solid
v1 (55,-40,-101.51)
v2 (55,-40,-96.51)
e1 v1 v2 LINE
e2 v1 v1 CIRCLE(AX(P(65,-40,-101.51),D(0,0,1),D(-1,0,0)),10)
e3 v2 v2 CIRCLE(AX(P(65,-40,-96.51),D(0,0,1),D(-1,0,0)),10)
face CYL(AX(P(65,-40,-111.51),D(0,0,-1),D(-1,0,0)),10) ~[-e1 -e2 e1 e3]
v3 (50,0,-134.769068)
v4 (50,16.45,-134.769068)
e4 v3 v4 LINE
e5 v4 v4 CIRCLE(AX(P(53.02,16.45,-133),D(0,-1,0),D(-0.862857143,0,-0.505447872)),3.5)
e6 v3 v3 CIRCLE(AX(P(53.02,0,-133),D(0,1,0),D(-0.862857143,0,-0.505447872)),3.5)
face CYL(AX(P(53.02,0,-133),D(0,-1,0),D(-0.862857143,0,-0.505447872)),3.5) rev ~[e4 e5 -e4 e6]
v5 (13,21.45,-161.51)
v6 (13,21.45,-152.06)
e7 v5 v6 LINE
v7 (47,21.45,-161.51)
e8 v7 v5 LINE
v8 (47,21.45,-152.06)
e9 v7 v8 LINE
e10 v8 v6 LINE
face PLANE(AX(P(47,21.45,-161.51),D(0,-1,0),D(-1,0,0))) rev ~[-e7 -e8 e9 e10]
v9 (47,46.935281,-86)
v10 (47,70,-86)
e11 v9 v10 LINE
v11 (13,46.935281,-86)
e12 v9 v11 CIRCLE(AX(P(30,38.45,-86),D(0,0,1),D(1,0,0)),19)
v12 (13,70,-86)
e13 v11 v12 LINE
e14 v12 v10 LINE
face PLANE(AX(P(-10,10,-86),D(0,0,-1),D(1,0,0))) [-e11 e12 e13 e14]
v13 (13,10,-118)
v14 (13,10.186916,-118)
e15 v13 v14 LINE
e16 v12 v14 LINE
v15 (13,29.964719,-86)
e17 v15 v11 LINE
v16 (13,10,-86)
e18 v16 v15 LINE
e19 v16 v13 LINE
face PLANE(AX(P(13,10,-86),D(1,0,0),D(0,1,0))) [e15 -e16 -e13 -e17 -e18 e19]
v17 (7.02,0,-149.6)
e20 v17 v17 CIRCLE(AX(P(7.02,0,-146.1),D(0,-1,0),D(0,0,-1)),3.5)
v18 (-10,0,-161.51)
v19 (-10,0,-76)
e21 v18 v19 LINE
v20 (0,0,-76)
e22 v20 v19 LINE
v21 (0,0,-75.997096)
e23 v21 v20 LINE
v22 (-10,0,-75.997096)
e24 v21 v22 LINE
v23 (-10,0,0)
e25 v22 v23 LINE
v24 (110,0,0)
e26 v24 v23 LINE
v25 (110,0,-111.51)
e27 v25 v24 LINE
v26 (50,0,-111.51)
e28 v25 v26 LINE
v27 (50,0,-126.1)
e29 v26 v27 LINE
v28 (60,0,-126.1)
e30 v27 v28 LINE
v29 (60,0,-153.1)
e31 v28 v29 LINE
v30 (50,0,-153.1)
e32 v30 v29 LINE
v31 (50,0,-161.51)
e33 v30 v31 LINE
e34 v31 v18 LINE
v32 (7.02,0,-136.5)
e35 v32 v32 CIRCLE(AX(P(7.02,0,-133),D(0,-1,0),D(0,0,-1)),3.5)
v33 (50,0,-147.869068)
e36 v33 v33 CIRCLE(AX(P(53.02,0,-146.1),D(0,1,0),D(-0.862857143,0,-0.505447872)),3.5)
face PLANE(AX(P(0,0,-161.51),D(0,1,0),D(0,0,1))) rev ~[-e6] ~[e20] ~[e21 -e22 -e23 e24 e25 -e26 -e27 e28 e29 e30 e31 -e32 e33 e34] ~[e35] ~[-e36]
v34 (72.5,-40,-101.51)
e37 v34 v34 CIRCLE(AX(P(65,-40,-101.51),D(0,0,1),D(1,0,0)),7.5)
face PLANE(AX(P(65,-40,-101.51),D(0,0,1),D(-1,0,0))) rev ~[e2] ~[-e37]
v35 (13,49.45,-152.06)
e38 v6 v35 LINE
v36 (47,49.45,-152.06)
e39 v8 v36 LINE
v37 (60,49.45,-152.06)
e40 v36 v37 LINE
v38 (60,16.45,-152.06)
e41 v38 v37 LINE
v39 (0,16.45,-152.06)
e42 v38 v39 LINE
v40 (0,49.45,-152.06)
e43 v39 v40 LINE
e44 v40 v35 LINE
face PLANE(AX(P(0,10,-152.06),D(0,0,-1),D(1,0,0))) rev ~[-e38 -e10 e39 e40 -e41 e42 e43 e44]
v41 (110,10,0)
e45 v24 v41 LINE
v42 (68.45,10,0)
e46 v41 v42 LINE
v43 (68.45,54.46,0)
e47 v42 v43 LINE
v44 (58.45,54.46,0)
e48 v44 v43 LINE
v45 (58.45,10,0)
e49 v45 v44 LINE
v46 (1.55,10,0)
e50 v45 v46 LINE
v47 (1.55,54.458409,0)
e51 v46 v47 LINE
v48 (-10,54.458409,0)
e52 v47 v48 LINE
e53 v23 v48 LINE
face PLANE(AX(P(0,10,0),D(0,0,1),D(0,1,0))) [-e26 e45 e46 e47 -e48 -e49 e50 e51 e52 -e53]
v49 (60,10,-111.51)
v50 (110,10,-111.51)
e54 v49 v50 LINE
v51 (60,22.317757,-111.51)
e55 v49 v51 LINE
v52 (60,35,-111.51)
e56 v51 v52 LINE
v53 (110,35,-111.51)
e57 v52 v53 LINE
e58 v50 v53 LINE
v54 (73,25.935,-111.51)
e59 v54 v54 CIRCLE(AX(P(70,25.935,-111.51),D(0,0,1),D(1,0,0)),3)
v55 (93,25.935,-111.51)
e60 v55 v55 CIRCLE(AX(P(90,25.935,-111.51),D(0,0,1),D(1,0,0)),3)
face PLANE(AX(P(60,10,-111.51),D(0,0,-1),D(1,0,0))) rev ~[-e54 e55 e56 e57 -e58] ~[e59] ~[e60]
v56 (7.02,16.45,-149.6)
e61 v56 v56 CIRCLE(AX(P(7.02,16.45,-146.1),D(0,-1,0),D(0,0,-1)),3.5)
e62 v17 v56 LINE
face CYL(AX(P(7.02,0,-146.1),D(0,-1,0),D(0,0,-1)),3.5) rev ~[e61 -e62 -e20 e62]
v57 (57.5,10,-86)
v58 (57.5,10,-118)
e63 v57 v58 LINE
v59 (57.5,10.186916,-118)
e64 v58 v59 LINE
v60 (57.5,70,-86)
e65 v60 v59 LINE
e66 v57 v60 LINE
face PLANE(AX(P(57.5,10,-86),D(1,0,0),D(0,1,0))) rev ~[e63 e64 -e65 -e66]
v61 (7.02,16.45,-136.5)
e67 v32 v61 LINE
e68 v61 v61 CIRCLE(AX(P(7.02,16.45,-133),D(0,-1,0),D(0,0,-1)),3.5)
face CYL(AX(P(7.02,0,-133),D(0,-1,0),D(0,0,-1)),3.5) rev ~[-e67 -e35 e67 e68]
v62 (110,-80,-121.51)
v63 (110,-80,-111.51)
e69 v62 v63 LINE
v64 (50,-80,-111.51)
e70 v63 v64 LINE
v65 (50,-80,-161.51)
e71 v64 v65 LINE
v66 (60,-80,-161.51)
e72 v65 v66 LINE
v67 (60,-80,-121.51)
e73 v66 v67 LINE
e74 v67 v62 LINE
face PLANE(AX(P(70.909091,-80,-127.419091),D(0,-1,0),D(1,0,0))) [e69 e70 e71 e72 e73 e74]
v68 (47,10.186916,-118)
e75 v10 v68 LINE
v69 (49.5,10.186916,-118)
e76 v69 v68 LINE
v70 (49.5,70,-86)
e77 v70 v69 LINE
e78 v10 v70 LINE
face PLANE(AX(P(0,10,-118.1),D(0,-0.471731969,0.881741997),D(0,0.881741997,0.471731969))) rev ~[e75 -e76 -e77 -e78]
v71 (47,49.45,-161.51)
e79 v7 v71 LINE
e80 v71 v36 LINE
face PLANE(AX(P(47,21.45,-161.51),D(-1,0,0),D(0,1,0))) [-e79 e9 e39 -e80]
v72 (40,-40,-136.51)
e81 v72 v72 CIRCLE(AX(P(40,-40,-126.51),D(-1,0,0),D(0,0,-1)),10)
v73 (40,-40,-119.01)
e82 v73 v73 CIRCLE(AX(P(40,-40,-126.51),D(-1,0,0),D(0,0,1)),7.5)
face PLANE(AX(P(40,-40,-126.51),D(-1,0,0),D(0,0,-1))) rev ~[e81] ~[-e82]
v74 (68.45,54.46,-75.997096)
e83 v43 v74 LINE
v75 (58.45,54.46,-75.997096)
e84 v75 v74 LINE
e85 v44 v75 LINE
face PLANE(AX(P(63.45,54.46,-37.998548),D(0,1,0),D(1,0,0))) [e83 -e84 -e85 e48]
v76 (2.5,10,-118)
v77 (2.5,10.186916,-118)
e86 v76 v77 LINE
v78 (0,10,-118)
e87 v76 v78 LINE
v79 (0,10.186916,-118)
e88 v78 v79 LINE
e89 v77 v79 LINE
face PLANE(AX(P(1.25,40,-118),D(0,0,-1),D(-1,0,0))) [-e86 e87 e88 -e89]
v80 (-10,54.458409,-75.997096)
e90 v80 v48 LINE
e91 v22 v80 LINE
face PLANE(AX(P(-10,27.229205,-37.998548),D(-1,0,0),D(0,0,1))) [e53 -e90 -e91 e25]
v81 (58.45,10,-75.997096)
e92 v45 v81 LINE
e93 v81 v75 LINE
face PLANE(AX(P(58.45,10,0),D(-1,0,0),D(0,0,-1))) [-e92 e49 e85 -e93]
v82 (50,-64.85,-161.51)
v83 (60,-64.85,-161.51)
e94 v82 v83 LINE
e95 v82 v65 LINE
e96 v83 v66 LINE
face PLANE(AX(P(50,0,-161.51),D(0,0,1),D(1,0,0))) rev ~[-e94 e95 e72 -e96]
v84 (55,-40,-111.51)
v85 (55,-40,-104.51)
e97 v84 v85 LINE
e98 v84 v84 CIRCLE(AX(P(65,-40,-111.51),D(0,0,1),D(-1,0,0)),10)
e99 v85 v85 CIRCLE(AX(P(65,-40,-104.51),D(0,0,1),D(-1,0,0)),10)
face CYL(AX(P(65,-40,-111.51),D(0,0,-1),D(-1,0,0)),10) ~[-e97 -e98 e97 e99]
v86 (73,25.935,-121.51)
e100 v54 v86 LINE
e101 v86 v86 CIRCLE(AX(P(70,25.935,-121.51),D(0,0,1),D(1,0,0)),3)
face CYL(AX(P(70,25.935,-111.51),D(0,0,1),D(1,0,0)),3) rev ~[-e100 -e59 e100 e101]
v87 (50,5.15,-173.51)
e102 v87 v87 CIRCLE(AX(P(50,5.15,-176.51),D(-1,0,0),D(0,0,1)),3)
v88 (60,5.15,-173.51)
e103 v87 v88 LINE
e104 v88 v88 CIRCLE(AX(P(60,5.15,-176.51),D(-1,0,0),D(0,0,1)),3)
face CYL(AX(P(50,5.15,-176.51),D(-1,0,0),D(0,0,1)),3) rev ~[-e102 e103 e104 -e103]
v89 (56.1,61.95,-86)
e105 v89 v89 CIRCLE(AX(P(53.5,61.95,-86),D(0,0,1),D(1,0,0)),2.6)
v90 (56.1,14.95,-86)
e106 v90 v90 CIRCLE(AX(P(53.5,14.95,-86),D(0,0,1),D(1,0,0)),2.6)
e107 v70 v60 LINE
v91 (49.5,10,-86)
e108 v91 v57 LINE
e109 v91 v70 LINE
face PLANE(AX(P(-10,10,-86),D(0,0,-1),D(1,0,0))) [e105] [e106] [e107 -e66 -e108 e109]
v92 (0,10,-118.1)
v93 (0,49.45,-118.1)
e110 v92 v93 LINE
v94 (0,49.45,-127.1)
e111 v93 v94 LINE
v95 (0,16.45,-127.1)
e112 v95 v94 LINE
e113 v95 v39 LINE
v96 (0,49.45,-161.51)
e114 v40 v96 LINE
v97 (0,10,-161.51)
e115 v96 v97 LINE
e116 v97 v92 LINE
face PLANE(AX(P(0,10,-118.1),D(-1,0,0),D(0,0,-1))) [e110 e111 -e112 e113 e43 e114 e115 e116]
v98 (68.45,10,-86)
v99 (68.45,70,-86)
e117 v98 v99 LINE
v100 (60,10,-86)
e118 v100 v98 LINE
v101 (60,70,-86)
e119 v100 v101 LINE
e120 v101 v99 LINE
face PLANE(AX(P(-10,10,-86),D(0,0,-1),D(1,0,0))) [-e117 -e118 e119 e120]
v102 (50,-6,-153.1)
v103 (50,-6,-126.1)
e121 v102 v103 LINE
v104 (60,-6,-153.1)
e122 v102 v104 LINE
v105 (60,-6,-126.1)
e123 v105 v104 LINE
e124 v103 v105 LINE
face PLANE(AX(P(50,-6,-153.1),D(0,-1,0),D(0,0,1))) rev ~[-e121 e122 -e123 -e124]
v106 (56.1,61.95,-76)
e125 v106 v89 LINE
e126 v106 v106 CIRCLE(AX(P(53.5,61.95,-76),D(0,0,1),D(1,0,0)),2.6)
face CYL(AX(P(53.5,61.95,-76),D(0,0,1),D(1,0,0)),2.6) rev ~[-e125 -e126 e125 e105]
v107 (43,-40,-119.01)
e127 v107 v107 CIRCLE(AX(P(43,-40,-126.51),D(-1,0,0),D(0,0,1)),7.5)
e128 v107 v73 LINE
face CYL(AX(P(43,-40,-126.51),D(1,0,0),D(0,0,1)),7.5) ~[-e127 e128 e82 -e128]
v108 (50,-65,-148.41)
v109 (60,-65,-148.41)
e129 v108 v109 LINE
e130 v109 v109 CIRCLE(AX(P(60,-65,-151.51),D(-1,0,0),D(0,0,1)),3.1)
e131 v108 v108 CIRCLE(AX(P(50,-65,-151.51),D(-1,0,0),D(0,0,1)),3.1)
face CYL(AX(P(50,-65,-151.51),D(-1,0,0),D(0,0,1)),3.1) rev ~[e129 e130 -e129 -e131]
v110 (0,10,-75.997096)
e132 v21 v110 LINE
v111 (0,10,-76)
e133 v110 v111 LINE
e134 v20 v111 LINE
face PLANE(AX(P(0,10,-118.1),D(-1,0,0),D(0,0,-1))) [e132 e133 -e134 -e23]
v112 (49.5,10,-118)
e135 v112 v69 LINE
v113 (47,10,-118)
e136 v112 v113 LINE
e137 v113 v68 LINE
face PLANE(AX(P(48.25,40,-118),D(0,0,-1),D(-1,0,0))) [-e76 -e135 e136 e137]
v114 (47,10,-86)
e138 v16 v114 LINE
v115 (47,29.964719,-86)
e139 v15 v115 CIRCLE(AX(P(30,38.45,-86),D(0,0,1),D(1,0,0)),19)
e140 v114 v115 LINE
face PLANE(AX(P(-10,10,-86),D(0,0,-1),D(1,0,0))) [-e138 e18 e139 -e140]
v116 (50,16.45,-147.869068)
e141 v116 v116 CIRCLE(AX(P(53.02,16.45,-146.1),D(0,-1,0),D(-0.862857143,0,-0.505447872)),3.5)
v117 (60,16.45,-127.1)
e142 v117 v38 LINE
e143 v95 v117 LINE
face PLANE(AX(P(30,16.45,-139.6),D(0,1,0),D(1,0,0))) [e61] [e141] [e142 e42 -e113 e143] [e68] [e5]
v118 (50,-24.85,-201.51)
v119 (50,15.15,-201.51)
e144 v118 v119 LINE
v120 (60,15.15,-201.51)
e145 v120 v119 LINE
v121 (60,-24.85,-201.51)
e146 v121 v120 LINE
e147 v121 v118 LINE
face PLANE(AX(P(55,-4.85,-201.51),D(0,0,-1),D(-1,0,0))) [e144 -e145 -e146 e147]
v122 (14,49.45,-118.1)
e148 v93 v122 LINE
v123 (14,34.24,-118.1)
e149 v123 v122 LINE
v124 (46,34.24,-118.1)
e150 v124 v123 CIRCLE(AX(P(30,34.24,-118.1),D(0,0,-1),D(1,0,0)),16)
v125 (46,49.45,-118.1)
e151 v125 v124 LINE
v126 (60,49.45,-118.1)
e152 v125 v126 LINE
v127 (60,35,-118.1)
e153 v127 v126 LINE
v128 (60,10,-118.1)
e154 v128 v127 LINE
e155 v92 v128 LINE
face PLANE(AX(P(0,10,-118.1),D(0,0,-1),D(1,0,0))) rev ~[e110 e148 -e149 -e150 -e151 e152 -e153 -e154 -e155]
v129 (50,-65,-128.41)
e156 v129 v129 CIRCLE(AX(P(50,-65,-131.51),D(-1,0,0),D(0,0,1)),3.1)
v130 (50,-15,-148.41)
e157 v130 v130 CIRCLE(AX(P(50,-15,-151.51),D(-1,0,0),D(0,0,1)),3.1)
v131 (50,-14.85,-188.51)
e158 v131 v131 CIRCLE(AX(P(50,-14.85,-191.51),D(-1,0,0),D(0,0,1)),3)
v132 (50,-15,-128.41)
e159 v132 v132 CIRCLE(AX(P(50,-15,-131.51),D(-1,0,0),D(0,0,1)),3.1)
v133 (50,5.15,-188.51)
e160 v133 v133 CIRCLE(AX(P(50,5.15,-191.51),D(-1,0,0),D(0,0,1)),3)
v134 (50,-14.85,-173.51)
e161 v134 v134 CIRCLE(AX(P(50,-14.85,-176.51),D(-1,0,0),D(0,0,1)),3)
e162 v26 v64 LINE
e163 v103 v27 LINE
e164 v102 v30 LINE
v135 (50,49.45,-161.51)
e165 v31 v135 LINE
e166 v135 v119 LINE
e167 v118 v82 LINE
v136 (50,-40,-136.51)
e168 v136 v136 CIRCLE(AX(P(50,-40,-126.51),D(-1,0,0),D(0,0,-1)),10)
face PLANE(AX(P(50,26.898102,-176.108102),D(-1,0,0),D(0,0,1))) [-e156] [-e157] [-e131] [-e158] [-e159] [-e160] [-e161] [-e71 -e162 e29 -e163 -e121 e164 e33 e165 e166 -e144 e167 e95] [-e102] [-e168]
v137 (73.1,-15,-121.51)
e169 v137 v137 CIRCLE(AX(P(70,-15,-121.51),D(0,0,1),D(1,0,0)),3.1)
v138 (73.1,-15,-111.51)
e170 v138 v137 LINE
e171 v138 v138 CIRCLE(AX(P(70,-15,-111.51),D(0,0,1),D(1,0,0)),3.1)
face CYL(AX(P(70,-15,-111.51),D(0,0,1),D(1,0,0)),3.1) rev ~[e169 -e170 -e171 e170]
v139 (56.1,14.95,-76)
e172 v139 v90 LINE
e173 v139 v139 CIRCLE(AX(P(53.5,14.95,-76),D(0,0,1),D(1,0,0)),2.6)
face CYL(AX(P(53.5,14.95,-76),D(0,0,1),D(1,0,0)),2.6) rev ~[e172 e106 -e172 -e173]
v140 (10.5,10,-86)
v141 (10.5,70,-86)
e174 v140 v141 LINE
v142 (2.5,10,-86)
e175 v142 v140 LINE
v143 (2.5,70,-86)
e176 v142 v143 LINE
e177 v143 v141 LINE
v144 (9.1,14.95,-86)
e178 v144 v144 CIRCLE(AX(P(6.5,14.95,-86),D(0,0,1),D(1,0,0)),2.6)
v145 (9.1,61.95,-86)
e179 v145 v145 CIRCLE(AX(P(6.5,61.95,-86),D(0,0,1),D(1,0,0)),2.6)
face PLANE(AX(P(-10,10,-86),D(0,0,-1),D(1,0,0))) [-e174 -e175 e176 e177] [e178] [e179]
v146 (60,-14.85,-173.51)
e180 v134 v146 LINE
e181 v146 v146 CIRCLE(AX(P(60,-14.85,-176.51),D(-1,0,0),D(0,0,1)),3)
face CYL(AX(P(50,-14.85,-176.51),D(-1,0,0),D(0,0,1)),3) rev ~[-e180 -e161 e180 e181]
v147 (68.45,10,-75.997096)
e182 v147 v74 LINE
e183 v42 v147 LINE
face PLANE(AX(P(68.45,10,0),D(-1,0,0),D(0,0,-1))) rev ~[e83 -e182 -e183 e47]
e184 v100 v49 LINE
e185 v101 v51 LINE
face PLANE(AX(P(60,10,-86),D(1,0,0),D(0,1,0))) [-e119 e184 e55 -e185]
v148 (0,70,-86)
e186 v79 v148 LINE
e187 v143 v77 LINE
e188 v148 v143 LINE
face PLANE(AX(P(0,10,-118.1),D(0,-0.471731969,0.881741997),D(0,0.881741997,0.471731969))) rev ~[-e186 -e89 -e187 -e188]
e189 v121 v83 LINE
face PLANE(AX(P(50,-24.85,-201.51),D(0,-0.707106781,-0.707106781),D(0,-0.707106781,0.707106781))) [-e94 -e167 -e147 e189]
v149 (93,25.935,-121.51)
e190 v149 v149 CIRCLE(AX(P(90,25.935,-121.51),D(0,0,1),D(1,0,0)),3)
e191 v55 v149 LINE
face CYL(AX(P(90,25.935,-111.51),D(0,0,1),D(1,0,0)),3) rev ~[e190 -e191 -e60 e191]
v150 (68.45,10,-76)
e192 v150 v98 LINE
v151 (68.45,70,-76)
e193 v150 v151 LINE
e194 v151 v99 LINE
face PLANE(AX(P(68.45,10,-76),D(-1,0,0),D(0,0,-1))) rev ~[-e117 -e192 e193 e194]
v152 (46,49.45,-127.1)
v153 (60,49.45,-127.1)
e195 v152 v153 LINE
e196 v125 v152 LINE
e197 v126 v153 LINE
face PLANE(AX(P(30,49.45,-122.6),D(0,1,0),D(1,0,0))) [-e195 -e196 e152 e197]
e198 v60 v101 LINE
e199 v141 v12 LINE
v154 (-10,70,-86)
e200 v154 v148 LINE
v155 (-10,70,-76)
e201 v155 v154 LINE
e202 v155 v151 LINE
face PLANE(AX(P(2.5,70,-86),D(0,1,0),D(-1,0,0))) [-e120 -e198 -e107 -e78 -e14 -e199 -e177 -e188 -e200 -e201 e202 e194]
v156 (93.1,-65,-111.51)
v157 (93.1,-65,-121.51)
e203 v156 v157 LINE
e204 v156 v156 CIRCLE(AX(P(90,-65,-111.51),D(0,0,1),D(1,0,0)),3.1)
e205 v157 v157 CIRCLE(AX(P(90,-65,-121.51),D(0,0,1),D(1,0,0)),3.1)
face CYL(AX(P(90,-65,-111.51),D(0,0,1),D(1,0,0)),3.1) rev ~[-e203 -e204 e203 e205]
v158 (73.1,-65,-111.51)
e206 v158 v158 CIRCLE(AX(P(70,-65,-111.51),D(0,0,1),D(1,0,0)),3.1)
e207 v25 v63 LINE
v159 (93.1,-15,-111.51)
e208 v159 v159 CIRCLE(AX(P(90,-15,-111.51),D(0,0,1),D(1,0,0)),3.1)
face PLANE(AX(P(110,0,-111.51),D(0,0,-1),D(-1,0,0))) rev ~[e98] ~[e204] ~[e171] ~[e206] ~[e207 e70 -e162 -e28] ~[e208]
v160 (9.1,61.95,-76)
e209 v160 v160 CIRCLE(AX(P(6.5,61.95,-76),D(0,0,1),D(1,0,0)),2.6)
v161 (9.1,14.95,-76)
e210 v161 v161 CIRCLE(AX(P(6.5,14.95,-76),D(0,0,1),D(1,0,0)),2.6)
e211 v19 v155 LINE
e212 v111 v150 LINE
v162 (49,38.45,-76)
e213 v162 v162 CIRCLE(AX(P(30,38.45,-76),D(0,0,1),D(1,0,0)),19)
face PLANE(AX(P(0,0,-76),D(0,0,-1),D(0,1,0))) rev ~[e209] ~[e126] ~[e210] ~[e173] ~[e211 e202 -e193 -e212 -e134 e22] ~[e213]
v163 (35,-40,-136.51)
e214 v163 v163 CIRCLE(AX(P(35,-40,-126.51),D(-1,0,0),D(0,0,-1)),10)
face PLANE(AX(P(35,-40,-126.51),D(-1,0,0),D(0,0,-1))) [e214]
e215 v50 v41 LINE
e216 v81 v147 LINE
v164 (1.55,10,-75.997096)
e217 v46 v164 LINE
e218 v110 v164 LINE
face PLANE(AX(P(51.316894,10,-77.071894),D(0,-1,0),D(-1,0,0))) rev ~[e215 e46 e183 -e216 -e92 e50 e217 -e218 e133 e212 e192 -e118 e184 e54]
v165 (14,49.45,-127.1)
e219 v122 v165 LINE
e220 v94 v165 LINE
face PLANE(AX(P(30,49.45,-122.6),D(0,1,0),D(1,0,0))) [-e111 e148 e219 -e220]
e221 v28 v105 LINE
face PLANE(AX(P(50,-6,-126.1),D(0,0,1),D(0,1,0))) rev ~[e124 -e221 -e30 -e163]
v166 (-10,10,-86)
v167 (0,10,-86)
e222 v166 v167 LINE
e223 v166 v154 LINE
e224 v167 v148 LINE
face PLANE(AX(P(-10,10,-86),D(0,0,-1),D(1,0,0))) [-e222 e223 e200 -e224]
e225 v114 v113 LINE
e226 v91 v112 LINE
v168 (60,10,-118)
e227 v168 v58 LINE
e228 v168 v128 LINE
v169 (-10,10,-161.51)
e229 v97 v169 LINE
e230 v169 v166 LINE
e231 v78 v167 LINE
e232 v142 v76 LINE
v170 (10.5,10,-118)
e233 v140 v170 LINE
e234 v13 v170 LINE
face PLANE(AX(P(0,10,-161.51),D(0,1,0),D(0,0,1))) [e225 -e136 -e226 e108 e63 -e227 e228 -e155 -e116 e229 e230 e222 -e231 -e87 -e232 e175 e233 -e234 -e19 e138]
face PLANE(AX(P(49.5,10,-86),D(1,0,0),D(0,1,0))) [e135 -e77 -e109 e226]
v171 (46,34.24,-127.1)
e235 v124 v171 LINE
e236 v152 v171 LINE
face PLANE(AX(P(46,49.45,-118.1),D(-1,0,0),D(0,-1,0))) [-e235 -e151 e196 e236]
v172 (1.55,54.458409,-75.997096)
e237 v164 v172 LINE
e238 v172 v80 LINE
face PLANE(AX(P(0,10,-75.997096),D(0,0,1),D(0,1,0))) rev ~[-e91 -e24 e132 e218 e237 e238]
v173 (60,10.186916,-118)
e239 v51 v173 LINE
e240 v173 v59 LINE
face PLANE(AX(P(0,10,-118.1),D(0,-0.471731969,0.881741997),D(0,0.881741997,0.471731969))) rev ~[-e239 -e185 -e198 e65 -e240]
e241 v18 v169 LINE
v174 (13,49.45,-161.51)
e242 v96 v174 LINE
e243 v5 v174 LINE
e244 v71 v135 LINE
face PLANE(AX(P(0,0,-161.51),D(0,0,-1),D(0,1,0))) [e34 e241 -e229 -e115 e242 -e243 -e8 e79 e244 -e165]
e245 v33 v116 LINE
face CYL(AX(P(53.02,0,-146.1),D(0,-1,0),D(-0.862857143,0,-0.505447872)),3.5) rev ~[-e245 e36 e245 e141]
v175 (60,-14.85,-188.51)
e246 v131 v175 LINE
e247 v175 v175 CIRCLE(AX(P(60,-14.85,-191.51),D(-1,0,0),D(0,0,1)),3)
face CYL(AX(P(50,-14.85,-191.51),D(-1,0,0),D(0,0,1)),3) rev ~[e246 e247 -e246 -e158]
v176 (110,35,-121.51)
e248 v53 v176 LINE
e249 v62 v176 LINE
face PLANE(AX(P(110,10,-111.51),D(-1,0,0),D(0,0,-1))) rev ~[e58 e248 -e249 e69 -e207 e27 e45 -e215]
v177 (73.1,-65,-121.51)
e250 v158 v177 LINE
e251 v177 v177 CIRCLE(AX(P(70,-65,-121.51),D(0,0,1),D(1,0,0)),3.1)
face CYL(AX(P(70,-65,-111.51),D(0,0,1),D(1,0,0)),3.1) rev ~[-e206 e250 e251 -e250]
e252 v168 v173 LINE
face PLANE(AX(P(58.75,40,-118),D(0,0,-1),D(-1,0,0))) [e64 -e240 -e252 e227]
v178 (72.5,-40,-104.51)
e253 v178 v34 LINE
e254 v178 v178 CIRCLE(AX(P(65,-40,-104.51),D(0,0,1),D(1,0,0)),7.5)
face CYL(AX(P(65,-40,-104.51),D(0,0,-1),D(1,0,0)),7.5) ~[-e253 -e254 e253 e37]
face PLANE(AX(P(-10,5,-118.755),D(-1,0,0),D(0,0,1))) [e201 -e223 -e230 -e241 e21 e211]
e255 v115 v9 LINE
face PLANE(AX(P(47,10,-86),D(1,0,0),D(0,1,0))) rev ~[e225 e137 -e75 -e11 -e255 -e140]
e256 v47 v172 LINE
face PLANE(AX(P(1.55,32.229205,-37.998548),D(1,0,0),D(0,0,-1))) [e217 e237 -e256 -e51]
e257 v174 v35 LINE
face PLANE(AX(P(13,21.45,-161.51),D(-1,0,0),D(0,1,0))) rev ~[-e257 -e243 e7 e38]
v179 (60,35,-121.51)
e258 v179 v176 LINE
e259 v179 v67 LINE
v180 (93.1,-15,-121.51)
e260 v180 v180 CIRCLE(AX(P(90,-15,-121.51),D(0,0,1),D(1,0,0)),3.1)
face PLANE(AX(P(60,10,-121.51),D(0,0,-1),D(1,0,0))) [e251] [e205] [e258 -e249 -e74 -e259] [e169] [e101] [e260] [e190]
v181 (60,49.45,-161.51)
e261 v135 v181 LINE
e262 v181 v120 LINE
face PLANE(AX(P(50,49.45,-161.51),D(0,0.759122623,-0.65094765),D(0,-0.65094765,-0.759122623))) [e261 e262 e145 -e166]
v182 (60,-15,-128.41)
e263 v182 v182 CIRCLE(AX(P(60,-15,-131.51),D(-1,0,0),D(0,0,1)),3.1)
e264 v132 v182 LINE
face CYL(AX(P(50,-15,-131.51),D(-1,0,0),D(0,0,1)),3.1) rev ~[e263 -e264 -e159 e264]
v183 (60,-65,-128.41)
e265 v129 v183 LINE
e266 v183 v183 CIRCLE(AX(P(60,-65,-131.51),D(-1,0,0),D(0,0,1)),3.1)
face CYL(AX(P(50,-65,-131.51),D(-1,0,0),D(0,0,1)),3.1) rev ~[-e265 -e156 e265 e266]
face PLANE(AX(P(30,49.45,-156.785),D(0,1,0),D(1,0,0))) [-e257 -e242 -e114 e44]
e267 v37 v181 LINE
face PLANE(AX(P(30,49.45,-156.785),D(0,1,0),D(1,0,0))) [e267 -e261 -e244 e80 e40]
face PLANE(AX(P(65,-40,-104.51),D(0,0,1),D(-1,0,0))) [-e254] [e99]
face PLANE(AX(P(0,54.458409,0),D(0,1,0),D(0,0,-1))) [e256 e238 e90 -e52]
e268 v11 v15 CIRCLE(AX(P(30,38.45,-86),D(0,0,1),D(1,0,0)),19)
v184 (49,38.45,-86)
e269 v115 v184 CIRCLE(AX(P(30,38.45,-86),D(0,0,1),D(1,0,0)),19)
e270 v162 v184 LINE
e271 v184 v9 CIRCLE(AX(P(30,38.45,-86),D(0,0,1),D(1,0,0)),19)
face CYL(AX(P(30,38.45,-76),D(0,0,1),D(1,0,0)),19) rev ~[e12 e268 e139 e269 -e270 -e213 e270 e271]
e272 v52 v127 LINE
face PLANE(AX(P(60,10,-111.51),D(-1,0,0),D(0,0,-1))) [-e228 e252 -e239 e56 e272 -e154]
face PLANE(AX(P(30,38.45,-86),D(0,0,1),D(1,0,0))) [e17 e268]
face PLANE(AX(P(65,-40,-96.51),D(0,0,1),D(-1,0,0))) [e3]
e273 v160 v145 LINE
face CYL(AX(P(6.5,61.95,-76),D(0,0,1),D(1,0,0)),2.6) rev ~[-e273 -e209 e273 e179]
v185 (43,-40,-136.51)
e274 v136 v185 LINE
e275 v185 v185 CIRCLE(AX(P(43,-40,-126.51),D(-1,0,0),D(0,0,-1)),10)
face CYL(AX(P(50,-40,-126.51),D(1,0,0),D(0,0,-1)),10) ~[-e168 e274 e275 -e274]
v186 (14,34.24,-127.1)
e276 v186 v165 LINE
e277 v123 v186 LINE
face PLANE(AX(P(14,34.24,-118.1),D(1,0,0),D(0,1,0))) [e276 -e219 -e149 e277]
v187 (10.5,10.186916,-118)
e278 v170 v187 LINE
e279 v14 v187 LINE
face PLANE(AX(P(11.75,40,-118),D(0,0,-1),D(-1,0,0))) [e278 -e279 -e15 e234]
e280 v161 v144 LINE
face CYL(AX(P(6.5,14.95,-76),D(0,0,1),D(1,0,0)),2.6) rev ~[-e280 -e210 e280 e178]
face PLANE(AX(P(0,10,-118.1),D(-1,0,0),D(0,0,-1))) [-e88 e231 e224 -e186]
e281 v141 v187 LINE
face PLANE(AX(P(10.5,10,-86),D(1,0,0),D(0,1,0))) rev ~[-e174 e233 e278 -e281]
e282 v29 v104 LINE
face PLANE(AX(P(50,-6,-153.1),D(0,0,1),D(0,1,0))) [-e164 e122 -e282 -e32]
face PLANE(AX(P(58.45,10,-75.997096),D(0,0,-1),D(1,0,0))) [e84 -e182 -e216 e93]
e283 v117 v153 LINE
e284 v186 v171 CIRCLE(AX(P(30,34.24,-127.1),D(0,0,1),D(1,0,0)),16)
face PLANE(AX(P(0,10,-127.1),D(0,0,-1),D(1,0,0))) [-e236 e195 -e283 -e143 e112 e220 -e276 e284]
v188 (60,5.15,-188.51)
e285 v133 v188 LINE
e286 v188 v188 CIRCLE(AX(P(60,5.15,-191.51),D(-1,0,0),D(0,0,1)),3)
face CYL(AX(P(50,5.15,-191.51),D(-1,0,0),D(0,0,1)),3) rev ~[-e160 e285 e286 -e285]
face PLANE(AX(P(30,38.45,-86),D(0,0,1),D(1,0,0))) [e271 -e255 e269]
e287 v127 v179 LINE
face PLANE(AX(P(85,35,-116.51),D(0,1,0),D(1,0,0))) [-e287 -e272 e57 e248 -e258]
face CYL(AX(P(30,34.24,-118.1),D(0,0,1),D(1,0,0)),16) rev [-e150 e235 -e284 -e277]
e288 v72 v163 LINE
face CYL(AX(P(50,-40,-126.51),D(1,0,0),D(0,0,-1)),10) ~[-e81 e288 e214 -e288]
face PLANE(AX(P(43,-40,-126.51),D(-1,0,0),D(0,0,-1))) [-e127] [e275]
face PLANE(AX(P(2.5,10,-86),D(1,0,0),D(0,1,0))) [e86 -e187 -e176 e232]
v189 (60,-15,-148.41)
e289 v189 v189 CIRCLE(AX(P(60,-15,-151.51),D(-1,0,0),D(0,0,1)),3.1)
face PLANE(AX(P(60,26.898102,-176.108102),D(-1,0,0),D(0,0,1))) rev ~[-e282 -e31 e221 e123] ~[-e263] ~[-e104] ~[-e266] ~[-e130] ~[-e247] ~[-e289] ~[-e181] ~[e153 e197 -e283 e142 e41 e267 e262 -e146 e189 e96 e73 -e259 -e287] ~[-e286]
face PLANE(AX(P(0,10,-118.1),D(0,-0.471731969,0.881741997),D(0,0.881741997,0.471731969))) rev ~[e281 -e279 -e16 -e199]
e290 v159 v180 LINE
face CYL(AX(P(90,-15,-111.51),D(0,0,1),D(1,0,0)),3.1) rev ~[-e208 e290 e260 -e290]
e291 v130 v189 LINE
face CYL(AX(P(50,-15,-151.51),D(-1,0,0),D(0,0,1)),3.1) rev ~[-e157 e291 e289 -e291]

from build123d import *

# Parameters (mm, degrees)
BOSS_EXTRUDE1_DEPTH  = 10
SKETCH2_W            = 60
SKETCH2_H            = 25
BOSS_EXTRUDE2_DEPTH  = 6.45
SKETCH3_W            = 60
SKETCH3_H            = 9.45
BOSS_EXTRUDE3_DEPTH  = 39.45
SKETCH4_W            = 34
SKETCH4_H            = 28
CUT_EXTRUDE1_DEPTH   = 9.45
SKETCH5_W            = 60
SKETCH5_H            = 9
BOSS_EXTRUDE4_DEPTH  = 39.45
CUT_EXTRUDE2_REACH   = 170.798
BOSS_EXTRUDE5_DEPTH  = 80
SKETCH8_W            = 75.99709589
SKETCH8_H            = 54.458409134
BOSS_EXTRUDE6_DEPTH  = 10
SKETCH9_W            = 10
SKETCH9_H            = 75.99709589
BOSS_EXTRUDE7_DEPTH  = 44.46
SKETCH17_W           = 78.45
SKETCH17_H           = 10
BOSS_EXTRUDE27_DEPTH = 60
SKETCH19_W           = 2.5
SKETCH19_H           = 60
BOSS_EXTRUDE31_DEPTH = 32
SKETCH20_W           = 75.99709589
SKETCH20_H           = 44.458409134
BOSS_EXTRUDE32_DEPTH = 1.55
SKETCH21_R           = 2.6
SKETCH21_R_2         = 19
CUT_EXTRUDE3_DEPTH   = 10
CUT_EXTRUDE4_REACH   = 213.153
SKETCH22_R           = 3.5
CUT_EXTRUDE5_REACH   = 191.962
SKETCH23_W           = 27
SKETCH23_H           = 6
CUT_EXTRUDE6_REACH   = 191.962
SKETCH24_R           = 3.1
CUT_EXTRUDE7_REACH   = 177.882
SKETCH25_R           = 3.1
CUT_EXTRUDE10_DEPTH  = 70
SKETCH27_W           = 50
SKETCH27_H           = 10
BOSS_EXTRUDE33_DEPTH = 25
CUT_EXTRUDE11_REACH  = 177.882
SKETCH28_R           = 3
SKETCH29_W           = 10
SKETCH29_H           = 40
BOSS_EXTRUDE34_DEPTH = 40
CUT_EXTRUDE12_REACH  = 226.958
SKETCH30_R           = 3
BOSS_EXTRUDE35_DEPTH = 10
SKETCH32_R           = 10
BOSS_EXTRUDE36_DEPTH = 15
CUT_EXTRUDE14_START  = -8
SKETCH33_R           = 10
SKETCH33_R_2         = 7.5
CUT_EXTRUDE14_DEPTH  = 3
SKETCH34_W           = 85.51
SKETCH34_H           = 10
BOSS_EXTRUDE37_DEPTH = 10
SKETCH35_R           = 10
BOSS_EXTRUDE38_DEPTH = 15
CUT_EXTRUDE15_START  = -8
SKETCH37_R           = 10
SKETCH37_R_2         = 7.5
CUT_EXTRUDE15_DEPTH  = 3


with BuildPart() as part:
    # Sketch1 → Boss-Extrude1 (new body)
    with BuildSketch(Plane(origin=(0, 0, 0), x_dir=(1, 0, 0), z_dir=(0, 1, 0))):
        Polygon((0, 0), (0, 161.51), (60, 161.51), (60, 121.51), (110, 121.51), (110, 0), align=None)
    extrude(amount=BOSS_EXTRUDE1_DEPTH)

    # Sketch2 → Boss-Extrude2 (add)
    with BuildSketch(Plane(origin=(0, 10, 0), x_dir=(1, 0, 0), z_dir=(0, 1, 0))):
        with Locations((30, 139.6)):
            Rectangle(SKETCH2_W, SKETCH2_H)
    extrude(amount=BOSS_EXTRUDE2_DEPTH)

    # Sketch3 → Boss-Extrude3 (add)
    with BuildSketch(Plane(origin=(0, 10, 0), x_dir=(1, 0, 0), z_dir=(0, 1, 0))):
        with Locations((30, 156.785)):
            Rectangle(SKETCH3_W, SKETCH3_H)
    extrude(amount=BOSS_EXTRUDE3_DEPTH)

    # Sketch4 → Cut-Extrude1 (cut)
    with BuildSketch(Plane(origin=(0, 0, -161.51), x_dir=(-1, 0, 0), z_dir=(0, 0, -1))):
        with Locations((-30, 35.45)):
            Rectangle(SKETCH4_W, SKETCH4_H)
    extrude(amount=-CUT_EXTRUDE1_DEPTH, mode=Mode.SUBTRACT)

    # Sketch5 → Boss-Extrude4 (add)
    with BuildSketch(Plane(origin=(0, 10, 0), x_dir=(1, 0, 0), z_dir=(0, 1, 0))):
        with Locations((30, 122.6)):
            Rectangle(SKETCH5_W, SKETCH5_H)
    extrude(amount=BOSS_EXTRUDE4_DEPTH)

    # Sketch6 → Cut-Extrude2 (cut, up to next)
    with BuildSketch(Plane.XY.offset(-118.1), mode=Mode.PRIVATE) as cut_extrude2_sk1:
        with BuildLine():
            Line((14, 34.24), (14, 49.45))
            Line((14, 49.45), (46, 49.45))
            Line((46, 49.45), (46, 34.24))
            ThreePointArc((46, 34.24), (30, 18.24), (14, 34.24))
        make_face()
    cut_extrude2_tool1 = extrude(cut_extrude2_sk1.sketch, amount=-CUT_EXTRUDE2_REACH, mode=Mode.PRIVATE) & part.part
    add(cut_extrude2_tool1.solids().sort_by_distance((30, 35.332249, -118.1))[0], mode=Mode.SUBTRACT)

    # Sketch7 → Boss-Extrude5 (add)
    with BuildSketch(Plane.XZ):
        Polygon((110, -111.51), (50, -111.51), (50, -161.51), (60, -161.51), (60, -121.51), (110, -121.51), align=None)
    extrude(amount=BOSS_EXTRUDE5_DEPTH)

    # Sketch8 → Boss-Extrude6 (add)
    with BuildSketch(Plane.ZY):
        with Locations((-37.998547945, 27.229204567)):
            Rectangle(SKETCH8_W, SKETCH8_H)
    extrude(amount=BOSS_EXTRUDE6_DEPTH)

    # Sketch9 → Boss-Extrude7 (add)
    with BuildSketch(Plane(origin=(0, 10, 0), x_dir=(1, 0, 0), z_dir=(0, 1, 0))):
        with Locations((63.45, 37.998547945)):
            Rectangle(SKETCH9_W, SKETCH9_H)
    extrude(amount=BOSS_EXTRUDE7_DEPTH)

    # Sketch17 → Boss-Extrude27 (add)
    with BuildSketch(Plane(origin=(0, 10, 0), x_dir=(1, 0, 0), z_dir=(0, 1, 0))):
        with Locations((29.225, 81)):
            Rectangle(SKETCH17_W, SKETCH17_H)
    extrude(amount=BOSS_EXTRUDE27_DEPTH)

    # Sketch19 → Boss-Extrude31 (add)
    with BuildSketch(Plane(origin=(0, 0, -86), x_dir=(-1, 0, 0), z_dir=(0, 0, -1))):
        with Locations((-1.25, 40)):
            Rectangle(SKETCH19_W, SKETCH19_H)
        with Locations((-11.75, 40)):
            Rectangle(SKETCH19_W, SKETCH19_H)
        with Locations((-48.25, 40)):
            Rectangle(SKETCH19_W, SKETCH19_H)
        with Locations((-58.75, 40)):
            Rectangle(SKETCH19_W, SKETCH19_H)
    extrude(amount=BOSS_EXTRUDE31_DEPTH)

    # Sketch20 → Boss-Extrude32 (add)
    with BuildSketch(Plane(origin=(0, 0, 0), x_dir=(0, 0, -1), z_dir=(1, 0, 0))):
        with Locations((37.998547945, 32.229204567)):
            Rectangle(SKETCH20_W, SKETCH20_H)
    extrude(amount=BOSS_EXTRUDE32_DEPTH)

    # Sketch21 → Cut-Extrude3 (cut)
    with BuildSketch(Plane.XY.offset(-76)):
        with Locations((6.5, 61.95)):
            Circle(SKETCH21_R)
        with Locations((53.5, 61.95)):
            Circle(SKETCH21_R)
        with Locations((53.5, 14.95)):
            Circle(SKETCH21_R)
        with Locations((6.5, 14.95)):
            Circle(SKETCH21_R)
        with Locations((30, 38.45)):
            Circle(SKETCH21_R_2)
    extrude(amount=-CUT_EXTRUDE3_DEPTH, mode=Mode.SUBTRACT)

    # Sketch22 → Cut-Extrude4 (cut, up to next)
    with BuildSketch(Plane.XZ, mode=Mode.PRIVATE) as cut_extrude4_sk1:
        with Locations(Location((7.02, -146.1, 0), (0, 0, 270))):
            Circle(SKETCH22_R)
    cut_extrude4_tool1 = extrude(cut_extrude4_sk1.sketch, amount=-CUT_EXTRUDE4_REACH, mode=Mode.PRIVATE) & part.part
    # Sketch22 → Cut-Extrude4 (cut, up to next)
    with BuildSketch(Plane.XZ, mode=Mode.PRIVATE) as cut_extrude4_sk2:
        with Locations(Location((7.02, -133, 0), (0, 0, 270))):
            Circle(SKETCH22_R)
    cut_extrude4_tool2 = extrude(cut_extrude4_sk2.sketch, amount=-CUT_EXTRUDE4_REACH, mode=Mode.PRIVATE) & part.part
    # Sketch22 → Cut-Extrude4 (cut, up to next)
    with BuildSketch(Plane.XZ, mode=Mode.PRIVATE) as cut_extrude4_sk3:
        with Locations(Location((53.02, -146.1, 0), (0, 0, 210.361087599))):
            Circle(SKETCH22_R)
    cut_extrude4_tool3 = extrude(cut_extrude4_sk3.sketch, amount=-CUT_EXTRUDE4_REACH, mode=Mode.PRIVATE) & part.part
    # Sketch22 → Cut-Extrude4 (cut, up to next)
    with BuildSketch(Plane.XZ, mode=Mode.PRIVATE) as cut_extrude4_sk4:
        with Locations(Location((53.02, -133, 0), (0, 0, 210.361087599))):
            Circle(SKETCH22_R)
    cut_extrude4_tool4 = extrude(cut_extrude4_sk4.sketch, amount=-CUT_EXTRUDE4_REACH, mode=Mode.PRIVATE) & part.part
    add(cut_extrude4_tool1.solids().sort_by_distance((7.02, 0, -146.1))[0], mode=Mode.SUBTRACT)
    add(cut_extrude4_tool2.solids().sort_by_distance((7.02, 0, -133))[0], mode=Mode.SUBTRACT)
    add(cut_extrude4_tool3.solids().sort_by_distance((53.02, 0, -146.1))[0], mode=Mode.SUBTRACT)
    add(cut_extrude4_tool4.solids().sort_by_distance((53.02, 0, -133))[0], mode=Mode.SUBTRACT)

    # Sketch23 → Cut-Extrude5 (cut, up to next)
    with BuildSketch(Plane.ZY.offset(-50), mode=Mode.PRIVATE) as cut_extrude5_sk1:
        with Locations((-139.6, -3)):
            Rectangle(SKETCH23_W, SKETCH23_H)
    cut_extrude5_tool1 = extrude(cut_extrude5_sk1.sketch, amount=-CUT_EXTRUDE5_REACH, mode=Mode.PRIVATE) & part.part
    add(cut_extrude5_tool1.solids().sort_by_distance((50, -3, -139.6))[0], mode=Mode.SUBTRACT)

    # Sketch24 → Cut-Extrude6 (cut, up to next)
    with BuildSketch(Plane.ZY.offset(-50), mode=Mode.PRIVATE) as cut_extrude6_sk1:
        with Locations((-151.51, -15)):
            Circle(SKETCH24_R)
    cut_extrude6_tool1 = extrude(cut_extrude6_sk1.sketch, amount=-CUT_EXTRUDE6_REACH, mode=Mode.PRIVATE) & part.part
    # Sketch24 → Cut-Extrude6 (cut, up to next)
    with BuildSketch(Plane.ZY.offset(-50), mode=Mode.PRIVATE) as cut_extrude6_sk2:
        with Locations((-151.51, -65)):
            Circle(SKETCH24_R)
    cut_extrude6_tool2 = extrude(cut_extrude6_sk2.sketch, amount=-CUT_EXTRUDE6_REACH, mode=Mode.PRIVATE) & part.part
    # Sketch24 → Cut-Extrude6 (cut, up to next)
    with BuildSketch(Plane.ZY.offset(-50), mode=Mode.PRIVATE) as cut_extrude6_sk3:
        with Locations((-131.51, -15)):
            Circle(SKETCH24_R)
    cut_extrude6_tool3 = extrude(cut_extrude6_sk3.sketch, amount=-CUT_EXTRUDE6_REACH, mode=Mode.PRIVATE) & part.part
    # Sketch24 → Cut-Extrude6 (cut, up to next)
    with BuildSketch(Plane.ZY.offset(-50), mode=Mode.PRIVATE) as cut_extrude6_sk4:
        with Locations((-131.51, -65)):
            Circle(SKETCH24_R)
    cut_extrude6_tool4 = extrude(cut_extrude6_sk4.sketch, amount=-CUT_EXTRUDE6_REACH, mode=Mode.PRIVATE) & part.part
    add(cut_extrude6_tool1.solids().sort_by_distance((50, -15, -151.51))[0], mode=Mode.SUBTRACT)
    add(cut_extrude6_tool2.solids().sort_by_distance((50, -65, -151.51))[0], mode=Mode.SUBTRACT)
    add(cut_extrude6_tool3.solids().sort_by_distance((50, -15, -131.51))[0], mode=Mode.SUBTRACT)
    add(cut_extrude6_tool4.solids().sort_by_distance((50, -65, -131.51))[0], mode=Mode.SUBTRACT)

    # Sketch25 → Cut-Extrude7 (cut, up to next)
    with BuildSketch(Plane.XY.offset(-111.51), mode=Mode.PRIVATE) as cut_extrude7_sk1:
        with Locations((70, -15)):
            Circle(SKETCH25_R)
    cut_extrude7_tool1 = extrude(cut_extrude7_sk1.sketch, amount=-CUT_EXTRUDE7_REACH, mode=Mode.PRIVATE) & part.part
    # Sketch25 → Cut-Extrude7 (cut, up to next)
    with BuildSketch(Plane.XY.offset(-111.51), mode=Mode.PRIVATE) as cut_extrude7_sk2:
        with Locations((90, -15)):
            Circle(SKETCH25_R)
    cut_extrude7_tool2 = extrude(cut_extrude7_sk2.sketch, amount=-CUT_EXTRUDE7_REACH, mode=Mode.PRIVATE) & part.part
    # Sketch25 → Cut-Extrude7 (cut, up to next)
    with BuildSketch(Plane.XY.offset(-111.51), mode=Mode.PRIVATE) as cut_extrude7_sk3:
        with Locations((70, -65)):
            Circle(SKETCH25_R)
    cut_extrude7_tool3 = extrude(cut_extrude7_sk3.sketch, amount=-CUT_EXTRUDE7_REACH, mode=Mode.PRIVATE) & part.part
    # Sketch25 → Cut-Extrude7 (cut, up to next)
    with BuildSketch(Plane.XY.offset(-111.51), mode=Mode.PRIVATE) as cut_extrude7_sk4:
        with Locations((90, -65)):
            Circle(SKETCH25_R)
    cut_extrude7_tool4 = extrude(cut_extrude7_sk4.sketch, amount=-CUT_EXTRUDE7_REACH, mode=Mode.PRIVATE) & part.part
    add(cut_extrude7_tool1.solids().sort_by_distance((70, -15, -111.51))[0], mode=Mode.SUBTRACT)
    add(cut_extrude7_tool2.solids().sort_by_distance((90, -15, -111.51))[0], mode=Mode.SUBTRACT)
    add(cut_extrude7_tool3.solids().sort_by_distance((70, -65, -111.51))[0], mode=Mode.SUBTRACT)
    add(cut_extrude7_tool4.solids().sort_by_distance((90, -65, -111.51))[0], mode=Mode.SUBTRACT)

    # Sketch26 → Cut-Extrude10 (cut)
    with BuildSketch(Plane.ZY):
        Polygon((-118.1, 10), (-86, 70), (-118, 70), align=None)
    extrude(amount=-CUT_EXTRUDE10_DEPTH, mode=Mode.SUBTRACT)

    # Sketch27 → Boss-Extrude33 (add)
    with BuildSketch(Plane(origin=(0, 10, 0), x_dir=(1, 0, 0), z_dir=(0, 1, 0))):
        with Locations((85, 116.51)):
            Rectangle(SKETCH27_W, SKETCH27_H)
    extrude(amount=BOSS_EXTRUDE33_DEPTH)

    # Sketch28 → Cut-Extrude11 (cut, up to next)
    with BuildSketch(Plane.XY.offset(-111.51), mode=Mode.PRIVATE) as cut_extrude11_sk1:
        with Locations((90, 25.935)):
            Circle(SKETCH28_R)
    cut_extrude11_tool1 = extrude(cut_extrude11_sk1.sketch, amount=-CUT_EXTRUDE11_REACH, mode=Mode.PRIVATE) & part.part
    # Sketch28 → Cut-Extrude11 (cut, up to next)
    with BuildSketch(Plane.XY.offset(-111.51), mode=Mode.PRIVATE) as cut_extrude11_sk2:
        with Locations((70, 25.935)):
            Circle(SKETCH28_R)
    cut_extrude11_tool2 = extrude(cut_extrude11_sk2.sketch, amount=-CUT_EXTRUDE11_REACH, mode=Mode.PRIVATE) & part.part
    add(cut_extrude11_tool1.solids().sort_by_distance((90, 25.935, -111.51))[0], mode=Mode.SUBTRACT)
    add(cut_extrude11_tool2.solids().sort_by_distance((70, 25.935, -111.51))[0], mode=Mode.SUBTRACT)

    # Sketch29 → Boss-Extrude34 (add)
    with BuildSketch(Plane(origin=(0, 0, -161.51), x_dir=(-1, 0, 0), z_dir=(0, 0, -1))):
        with Locations((-55, -4.85)):
            Rectangle(SKETCH29_W, SKETCH29_H)
    extrude(amount=BOSS_EXTRUDE34_DEPTH)

    # Sketch30 → Cut-Extrude12 (cut, up to next)
    with BuildSketch(Plane.ZY.offset(-50), mode=Mode.PRIVATE) as cut_extrude12_sk1:
        with Locations((-191.51, 5.15)):
            Circle(SKETCH30_R)
    cut_extrude12_tool1 = extrude(cut_extrude12_sk1.sketch, amount=-CUT_EXTRUDE12_REACH, mode=Mode.PRIVATE) & part.part
    # Sketch30 → Cut-Extrude12 (cut, up to next)
    with BuildSketch(Plane.ZY.offset(-50), mode=Mode.PRIVATE) as cut_extrude12_sk2:
        with Locations((-176.51, 5.15)):
            Circle(SKETCH30_R)
    cut_extrude12_tool2 = extrude(cut_extrude12_sk2.sketch, amount=-CUT_EXTRUDE12_REACH, mode=Mode.PRIVATE) & part.part
    # Sketch30 → Cut-Extrude12 (cut, up to next)
    with BuildSketch(Plane.ZY.offset(-50), mode=Mode.PRIVATE) as cut_extrude12_sk3:
        with Locations((-191.51, -14.85)):
            Circle(SKETCH30_R)
    cut_extrude12_tool3 = extrude(cut_extrude12_sk3.sketch, amount=-CUT_EXTRUDE12_REACH, mode=Mode.PRIVATE) & part.part
    # Sketch30 → Cut-Extrude12 (cut, up to next)
    with BuildSketch(Plane.ZY.offset(-50), mode=Mode.PRIVATE) as cut_extrude12_sk4:
        with Locations((-176.51, -14.85)):
            Circle(SKETCH30_R)
    cut_extrude12_tool4 = extrude(cut_extrude12_sk4.sketch, amount=-CUT_EXTRUDE12_REACH, mode=Mode.PRIVATE) & part.part
    add(cut_extrude12_tool1.solids().sort_by_distance((50, 5.15, -191.51))[0], mode=Mode.SUBTRACT)
    add(cut_extrude12_tool2.solids().sort_by_distance((50, 5.15, -176.51))[0], mode=Mode.SUBTRACT)
    add(cut_extrude12_tool3.solids().sort_by_distance((50, -14.85, -191.51))[0], mode=Mode.SUBTRACT)
    add(cut_extrude12_tool4.solids().sort_by_distance((50, -14.85, -176.51))[0], mode=Mode.SUBTRACT)

    # Sketch31 → Boss-Extrude35 (add)
    with BuildSketch(Plane.ZY.offset(-50)):
        Polygon((-161.51, 15.15), (-161.51, 49.45), (-201.51, 15.15), align=None)
        Polygon((-161.51, -24.85), (-201.51, -24.85), (-161.51, -64.85), align=None)
    extrude(amount=-BOSS_EXTRUDE35_DEPTH)

    # Sketch32 → Boss-Extrude36 (add)
    with BuildSketch(Plane.ZY.offset(-50)):
        with Locations(Location((-126.51, -40, 0), (0, 0, 180))):
            Circle(SKETCH32_R)
    extrude(amount=BOSS_EXTRUDE36_DEPTH)

    # Sketch33 → Cut-Extrude14 (cut)
    with BuildSketch(Plane.ZY.offset(-35).offset(CUT_EXTRUDE14_START)):
        with Locations(Location((-126.51, -40, 0), (0, 0, 180))):
            Circle(SKETCH33_R)
        with Locations((-126.51, -40)):
            Circle(SKETCH33_R_2, mode=Mode.SUBTRACT)
    extrude(amount=CUT_EXTRUDE14_DEPTH, mode=Mode.SUBTRACT)

    # Sketch34 → Boss-Extrude37 (add)
    with BuildSketch(Plane.ZY):
        with Locations((-118.755, 5)):
            Rectangle(SKETCH34_W, SKETCH34_H)
    extrude(amount=BOSS_EXTRUDE37_DEPTH)

    # Sketch35 → Boss-Extrude38 (add)
    with BuildSketch(Plane.XY.offset(-111.51)):
        with Locations(Location((65, -40, 0), (0, 0, 180))):
            Circle(SKETCH35_R)
    extrude(amount=BOSS_EXTRUDE38_DEPTH)

    # Sketch37 → Cut-Extrude15 (cut)
    with BuildSketch(Plane.XY.offset(-96.51).offset(CUT_EXTRUDE15_START)):
        with Locations(Location((65, -40, 0), (0, 0, 180))):
            Circle(SKETCH37_R)
        with Locations((65, -40)):
            Circle(SKETCH37_R_2, mode=Mode.SUBTRACT)
    extrude(amount=CUT_EXTRUDE15_DEPTH, mode=Mode.SUBTRACT)


solid = part.part
